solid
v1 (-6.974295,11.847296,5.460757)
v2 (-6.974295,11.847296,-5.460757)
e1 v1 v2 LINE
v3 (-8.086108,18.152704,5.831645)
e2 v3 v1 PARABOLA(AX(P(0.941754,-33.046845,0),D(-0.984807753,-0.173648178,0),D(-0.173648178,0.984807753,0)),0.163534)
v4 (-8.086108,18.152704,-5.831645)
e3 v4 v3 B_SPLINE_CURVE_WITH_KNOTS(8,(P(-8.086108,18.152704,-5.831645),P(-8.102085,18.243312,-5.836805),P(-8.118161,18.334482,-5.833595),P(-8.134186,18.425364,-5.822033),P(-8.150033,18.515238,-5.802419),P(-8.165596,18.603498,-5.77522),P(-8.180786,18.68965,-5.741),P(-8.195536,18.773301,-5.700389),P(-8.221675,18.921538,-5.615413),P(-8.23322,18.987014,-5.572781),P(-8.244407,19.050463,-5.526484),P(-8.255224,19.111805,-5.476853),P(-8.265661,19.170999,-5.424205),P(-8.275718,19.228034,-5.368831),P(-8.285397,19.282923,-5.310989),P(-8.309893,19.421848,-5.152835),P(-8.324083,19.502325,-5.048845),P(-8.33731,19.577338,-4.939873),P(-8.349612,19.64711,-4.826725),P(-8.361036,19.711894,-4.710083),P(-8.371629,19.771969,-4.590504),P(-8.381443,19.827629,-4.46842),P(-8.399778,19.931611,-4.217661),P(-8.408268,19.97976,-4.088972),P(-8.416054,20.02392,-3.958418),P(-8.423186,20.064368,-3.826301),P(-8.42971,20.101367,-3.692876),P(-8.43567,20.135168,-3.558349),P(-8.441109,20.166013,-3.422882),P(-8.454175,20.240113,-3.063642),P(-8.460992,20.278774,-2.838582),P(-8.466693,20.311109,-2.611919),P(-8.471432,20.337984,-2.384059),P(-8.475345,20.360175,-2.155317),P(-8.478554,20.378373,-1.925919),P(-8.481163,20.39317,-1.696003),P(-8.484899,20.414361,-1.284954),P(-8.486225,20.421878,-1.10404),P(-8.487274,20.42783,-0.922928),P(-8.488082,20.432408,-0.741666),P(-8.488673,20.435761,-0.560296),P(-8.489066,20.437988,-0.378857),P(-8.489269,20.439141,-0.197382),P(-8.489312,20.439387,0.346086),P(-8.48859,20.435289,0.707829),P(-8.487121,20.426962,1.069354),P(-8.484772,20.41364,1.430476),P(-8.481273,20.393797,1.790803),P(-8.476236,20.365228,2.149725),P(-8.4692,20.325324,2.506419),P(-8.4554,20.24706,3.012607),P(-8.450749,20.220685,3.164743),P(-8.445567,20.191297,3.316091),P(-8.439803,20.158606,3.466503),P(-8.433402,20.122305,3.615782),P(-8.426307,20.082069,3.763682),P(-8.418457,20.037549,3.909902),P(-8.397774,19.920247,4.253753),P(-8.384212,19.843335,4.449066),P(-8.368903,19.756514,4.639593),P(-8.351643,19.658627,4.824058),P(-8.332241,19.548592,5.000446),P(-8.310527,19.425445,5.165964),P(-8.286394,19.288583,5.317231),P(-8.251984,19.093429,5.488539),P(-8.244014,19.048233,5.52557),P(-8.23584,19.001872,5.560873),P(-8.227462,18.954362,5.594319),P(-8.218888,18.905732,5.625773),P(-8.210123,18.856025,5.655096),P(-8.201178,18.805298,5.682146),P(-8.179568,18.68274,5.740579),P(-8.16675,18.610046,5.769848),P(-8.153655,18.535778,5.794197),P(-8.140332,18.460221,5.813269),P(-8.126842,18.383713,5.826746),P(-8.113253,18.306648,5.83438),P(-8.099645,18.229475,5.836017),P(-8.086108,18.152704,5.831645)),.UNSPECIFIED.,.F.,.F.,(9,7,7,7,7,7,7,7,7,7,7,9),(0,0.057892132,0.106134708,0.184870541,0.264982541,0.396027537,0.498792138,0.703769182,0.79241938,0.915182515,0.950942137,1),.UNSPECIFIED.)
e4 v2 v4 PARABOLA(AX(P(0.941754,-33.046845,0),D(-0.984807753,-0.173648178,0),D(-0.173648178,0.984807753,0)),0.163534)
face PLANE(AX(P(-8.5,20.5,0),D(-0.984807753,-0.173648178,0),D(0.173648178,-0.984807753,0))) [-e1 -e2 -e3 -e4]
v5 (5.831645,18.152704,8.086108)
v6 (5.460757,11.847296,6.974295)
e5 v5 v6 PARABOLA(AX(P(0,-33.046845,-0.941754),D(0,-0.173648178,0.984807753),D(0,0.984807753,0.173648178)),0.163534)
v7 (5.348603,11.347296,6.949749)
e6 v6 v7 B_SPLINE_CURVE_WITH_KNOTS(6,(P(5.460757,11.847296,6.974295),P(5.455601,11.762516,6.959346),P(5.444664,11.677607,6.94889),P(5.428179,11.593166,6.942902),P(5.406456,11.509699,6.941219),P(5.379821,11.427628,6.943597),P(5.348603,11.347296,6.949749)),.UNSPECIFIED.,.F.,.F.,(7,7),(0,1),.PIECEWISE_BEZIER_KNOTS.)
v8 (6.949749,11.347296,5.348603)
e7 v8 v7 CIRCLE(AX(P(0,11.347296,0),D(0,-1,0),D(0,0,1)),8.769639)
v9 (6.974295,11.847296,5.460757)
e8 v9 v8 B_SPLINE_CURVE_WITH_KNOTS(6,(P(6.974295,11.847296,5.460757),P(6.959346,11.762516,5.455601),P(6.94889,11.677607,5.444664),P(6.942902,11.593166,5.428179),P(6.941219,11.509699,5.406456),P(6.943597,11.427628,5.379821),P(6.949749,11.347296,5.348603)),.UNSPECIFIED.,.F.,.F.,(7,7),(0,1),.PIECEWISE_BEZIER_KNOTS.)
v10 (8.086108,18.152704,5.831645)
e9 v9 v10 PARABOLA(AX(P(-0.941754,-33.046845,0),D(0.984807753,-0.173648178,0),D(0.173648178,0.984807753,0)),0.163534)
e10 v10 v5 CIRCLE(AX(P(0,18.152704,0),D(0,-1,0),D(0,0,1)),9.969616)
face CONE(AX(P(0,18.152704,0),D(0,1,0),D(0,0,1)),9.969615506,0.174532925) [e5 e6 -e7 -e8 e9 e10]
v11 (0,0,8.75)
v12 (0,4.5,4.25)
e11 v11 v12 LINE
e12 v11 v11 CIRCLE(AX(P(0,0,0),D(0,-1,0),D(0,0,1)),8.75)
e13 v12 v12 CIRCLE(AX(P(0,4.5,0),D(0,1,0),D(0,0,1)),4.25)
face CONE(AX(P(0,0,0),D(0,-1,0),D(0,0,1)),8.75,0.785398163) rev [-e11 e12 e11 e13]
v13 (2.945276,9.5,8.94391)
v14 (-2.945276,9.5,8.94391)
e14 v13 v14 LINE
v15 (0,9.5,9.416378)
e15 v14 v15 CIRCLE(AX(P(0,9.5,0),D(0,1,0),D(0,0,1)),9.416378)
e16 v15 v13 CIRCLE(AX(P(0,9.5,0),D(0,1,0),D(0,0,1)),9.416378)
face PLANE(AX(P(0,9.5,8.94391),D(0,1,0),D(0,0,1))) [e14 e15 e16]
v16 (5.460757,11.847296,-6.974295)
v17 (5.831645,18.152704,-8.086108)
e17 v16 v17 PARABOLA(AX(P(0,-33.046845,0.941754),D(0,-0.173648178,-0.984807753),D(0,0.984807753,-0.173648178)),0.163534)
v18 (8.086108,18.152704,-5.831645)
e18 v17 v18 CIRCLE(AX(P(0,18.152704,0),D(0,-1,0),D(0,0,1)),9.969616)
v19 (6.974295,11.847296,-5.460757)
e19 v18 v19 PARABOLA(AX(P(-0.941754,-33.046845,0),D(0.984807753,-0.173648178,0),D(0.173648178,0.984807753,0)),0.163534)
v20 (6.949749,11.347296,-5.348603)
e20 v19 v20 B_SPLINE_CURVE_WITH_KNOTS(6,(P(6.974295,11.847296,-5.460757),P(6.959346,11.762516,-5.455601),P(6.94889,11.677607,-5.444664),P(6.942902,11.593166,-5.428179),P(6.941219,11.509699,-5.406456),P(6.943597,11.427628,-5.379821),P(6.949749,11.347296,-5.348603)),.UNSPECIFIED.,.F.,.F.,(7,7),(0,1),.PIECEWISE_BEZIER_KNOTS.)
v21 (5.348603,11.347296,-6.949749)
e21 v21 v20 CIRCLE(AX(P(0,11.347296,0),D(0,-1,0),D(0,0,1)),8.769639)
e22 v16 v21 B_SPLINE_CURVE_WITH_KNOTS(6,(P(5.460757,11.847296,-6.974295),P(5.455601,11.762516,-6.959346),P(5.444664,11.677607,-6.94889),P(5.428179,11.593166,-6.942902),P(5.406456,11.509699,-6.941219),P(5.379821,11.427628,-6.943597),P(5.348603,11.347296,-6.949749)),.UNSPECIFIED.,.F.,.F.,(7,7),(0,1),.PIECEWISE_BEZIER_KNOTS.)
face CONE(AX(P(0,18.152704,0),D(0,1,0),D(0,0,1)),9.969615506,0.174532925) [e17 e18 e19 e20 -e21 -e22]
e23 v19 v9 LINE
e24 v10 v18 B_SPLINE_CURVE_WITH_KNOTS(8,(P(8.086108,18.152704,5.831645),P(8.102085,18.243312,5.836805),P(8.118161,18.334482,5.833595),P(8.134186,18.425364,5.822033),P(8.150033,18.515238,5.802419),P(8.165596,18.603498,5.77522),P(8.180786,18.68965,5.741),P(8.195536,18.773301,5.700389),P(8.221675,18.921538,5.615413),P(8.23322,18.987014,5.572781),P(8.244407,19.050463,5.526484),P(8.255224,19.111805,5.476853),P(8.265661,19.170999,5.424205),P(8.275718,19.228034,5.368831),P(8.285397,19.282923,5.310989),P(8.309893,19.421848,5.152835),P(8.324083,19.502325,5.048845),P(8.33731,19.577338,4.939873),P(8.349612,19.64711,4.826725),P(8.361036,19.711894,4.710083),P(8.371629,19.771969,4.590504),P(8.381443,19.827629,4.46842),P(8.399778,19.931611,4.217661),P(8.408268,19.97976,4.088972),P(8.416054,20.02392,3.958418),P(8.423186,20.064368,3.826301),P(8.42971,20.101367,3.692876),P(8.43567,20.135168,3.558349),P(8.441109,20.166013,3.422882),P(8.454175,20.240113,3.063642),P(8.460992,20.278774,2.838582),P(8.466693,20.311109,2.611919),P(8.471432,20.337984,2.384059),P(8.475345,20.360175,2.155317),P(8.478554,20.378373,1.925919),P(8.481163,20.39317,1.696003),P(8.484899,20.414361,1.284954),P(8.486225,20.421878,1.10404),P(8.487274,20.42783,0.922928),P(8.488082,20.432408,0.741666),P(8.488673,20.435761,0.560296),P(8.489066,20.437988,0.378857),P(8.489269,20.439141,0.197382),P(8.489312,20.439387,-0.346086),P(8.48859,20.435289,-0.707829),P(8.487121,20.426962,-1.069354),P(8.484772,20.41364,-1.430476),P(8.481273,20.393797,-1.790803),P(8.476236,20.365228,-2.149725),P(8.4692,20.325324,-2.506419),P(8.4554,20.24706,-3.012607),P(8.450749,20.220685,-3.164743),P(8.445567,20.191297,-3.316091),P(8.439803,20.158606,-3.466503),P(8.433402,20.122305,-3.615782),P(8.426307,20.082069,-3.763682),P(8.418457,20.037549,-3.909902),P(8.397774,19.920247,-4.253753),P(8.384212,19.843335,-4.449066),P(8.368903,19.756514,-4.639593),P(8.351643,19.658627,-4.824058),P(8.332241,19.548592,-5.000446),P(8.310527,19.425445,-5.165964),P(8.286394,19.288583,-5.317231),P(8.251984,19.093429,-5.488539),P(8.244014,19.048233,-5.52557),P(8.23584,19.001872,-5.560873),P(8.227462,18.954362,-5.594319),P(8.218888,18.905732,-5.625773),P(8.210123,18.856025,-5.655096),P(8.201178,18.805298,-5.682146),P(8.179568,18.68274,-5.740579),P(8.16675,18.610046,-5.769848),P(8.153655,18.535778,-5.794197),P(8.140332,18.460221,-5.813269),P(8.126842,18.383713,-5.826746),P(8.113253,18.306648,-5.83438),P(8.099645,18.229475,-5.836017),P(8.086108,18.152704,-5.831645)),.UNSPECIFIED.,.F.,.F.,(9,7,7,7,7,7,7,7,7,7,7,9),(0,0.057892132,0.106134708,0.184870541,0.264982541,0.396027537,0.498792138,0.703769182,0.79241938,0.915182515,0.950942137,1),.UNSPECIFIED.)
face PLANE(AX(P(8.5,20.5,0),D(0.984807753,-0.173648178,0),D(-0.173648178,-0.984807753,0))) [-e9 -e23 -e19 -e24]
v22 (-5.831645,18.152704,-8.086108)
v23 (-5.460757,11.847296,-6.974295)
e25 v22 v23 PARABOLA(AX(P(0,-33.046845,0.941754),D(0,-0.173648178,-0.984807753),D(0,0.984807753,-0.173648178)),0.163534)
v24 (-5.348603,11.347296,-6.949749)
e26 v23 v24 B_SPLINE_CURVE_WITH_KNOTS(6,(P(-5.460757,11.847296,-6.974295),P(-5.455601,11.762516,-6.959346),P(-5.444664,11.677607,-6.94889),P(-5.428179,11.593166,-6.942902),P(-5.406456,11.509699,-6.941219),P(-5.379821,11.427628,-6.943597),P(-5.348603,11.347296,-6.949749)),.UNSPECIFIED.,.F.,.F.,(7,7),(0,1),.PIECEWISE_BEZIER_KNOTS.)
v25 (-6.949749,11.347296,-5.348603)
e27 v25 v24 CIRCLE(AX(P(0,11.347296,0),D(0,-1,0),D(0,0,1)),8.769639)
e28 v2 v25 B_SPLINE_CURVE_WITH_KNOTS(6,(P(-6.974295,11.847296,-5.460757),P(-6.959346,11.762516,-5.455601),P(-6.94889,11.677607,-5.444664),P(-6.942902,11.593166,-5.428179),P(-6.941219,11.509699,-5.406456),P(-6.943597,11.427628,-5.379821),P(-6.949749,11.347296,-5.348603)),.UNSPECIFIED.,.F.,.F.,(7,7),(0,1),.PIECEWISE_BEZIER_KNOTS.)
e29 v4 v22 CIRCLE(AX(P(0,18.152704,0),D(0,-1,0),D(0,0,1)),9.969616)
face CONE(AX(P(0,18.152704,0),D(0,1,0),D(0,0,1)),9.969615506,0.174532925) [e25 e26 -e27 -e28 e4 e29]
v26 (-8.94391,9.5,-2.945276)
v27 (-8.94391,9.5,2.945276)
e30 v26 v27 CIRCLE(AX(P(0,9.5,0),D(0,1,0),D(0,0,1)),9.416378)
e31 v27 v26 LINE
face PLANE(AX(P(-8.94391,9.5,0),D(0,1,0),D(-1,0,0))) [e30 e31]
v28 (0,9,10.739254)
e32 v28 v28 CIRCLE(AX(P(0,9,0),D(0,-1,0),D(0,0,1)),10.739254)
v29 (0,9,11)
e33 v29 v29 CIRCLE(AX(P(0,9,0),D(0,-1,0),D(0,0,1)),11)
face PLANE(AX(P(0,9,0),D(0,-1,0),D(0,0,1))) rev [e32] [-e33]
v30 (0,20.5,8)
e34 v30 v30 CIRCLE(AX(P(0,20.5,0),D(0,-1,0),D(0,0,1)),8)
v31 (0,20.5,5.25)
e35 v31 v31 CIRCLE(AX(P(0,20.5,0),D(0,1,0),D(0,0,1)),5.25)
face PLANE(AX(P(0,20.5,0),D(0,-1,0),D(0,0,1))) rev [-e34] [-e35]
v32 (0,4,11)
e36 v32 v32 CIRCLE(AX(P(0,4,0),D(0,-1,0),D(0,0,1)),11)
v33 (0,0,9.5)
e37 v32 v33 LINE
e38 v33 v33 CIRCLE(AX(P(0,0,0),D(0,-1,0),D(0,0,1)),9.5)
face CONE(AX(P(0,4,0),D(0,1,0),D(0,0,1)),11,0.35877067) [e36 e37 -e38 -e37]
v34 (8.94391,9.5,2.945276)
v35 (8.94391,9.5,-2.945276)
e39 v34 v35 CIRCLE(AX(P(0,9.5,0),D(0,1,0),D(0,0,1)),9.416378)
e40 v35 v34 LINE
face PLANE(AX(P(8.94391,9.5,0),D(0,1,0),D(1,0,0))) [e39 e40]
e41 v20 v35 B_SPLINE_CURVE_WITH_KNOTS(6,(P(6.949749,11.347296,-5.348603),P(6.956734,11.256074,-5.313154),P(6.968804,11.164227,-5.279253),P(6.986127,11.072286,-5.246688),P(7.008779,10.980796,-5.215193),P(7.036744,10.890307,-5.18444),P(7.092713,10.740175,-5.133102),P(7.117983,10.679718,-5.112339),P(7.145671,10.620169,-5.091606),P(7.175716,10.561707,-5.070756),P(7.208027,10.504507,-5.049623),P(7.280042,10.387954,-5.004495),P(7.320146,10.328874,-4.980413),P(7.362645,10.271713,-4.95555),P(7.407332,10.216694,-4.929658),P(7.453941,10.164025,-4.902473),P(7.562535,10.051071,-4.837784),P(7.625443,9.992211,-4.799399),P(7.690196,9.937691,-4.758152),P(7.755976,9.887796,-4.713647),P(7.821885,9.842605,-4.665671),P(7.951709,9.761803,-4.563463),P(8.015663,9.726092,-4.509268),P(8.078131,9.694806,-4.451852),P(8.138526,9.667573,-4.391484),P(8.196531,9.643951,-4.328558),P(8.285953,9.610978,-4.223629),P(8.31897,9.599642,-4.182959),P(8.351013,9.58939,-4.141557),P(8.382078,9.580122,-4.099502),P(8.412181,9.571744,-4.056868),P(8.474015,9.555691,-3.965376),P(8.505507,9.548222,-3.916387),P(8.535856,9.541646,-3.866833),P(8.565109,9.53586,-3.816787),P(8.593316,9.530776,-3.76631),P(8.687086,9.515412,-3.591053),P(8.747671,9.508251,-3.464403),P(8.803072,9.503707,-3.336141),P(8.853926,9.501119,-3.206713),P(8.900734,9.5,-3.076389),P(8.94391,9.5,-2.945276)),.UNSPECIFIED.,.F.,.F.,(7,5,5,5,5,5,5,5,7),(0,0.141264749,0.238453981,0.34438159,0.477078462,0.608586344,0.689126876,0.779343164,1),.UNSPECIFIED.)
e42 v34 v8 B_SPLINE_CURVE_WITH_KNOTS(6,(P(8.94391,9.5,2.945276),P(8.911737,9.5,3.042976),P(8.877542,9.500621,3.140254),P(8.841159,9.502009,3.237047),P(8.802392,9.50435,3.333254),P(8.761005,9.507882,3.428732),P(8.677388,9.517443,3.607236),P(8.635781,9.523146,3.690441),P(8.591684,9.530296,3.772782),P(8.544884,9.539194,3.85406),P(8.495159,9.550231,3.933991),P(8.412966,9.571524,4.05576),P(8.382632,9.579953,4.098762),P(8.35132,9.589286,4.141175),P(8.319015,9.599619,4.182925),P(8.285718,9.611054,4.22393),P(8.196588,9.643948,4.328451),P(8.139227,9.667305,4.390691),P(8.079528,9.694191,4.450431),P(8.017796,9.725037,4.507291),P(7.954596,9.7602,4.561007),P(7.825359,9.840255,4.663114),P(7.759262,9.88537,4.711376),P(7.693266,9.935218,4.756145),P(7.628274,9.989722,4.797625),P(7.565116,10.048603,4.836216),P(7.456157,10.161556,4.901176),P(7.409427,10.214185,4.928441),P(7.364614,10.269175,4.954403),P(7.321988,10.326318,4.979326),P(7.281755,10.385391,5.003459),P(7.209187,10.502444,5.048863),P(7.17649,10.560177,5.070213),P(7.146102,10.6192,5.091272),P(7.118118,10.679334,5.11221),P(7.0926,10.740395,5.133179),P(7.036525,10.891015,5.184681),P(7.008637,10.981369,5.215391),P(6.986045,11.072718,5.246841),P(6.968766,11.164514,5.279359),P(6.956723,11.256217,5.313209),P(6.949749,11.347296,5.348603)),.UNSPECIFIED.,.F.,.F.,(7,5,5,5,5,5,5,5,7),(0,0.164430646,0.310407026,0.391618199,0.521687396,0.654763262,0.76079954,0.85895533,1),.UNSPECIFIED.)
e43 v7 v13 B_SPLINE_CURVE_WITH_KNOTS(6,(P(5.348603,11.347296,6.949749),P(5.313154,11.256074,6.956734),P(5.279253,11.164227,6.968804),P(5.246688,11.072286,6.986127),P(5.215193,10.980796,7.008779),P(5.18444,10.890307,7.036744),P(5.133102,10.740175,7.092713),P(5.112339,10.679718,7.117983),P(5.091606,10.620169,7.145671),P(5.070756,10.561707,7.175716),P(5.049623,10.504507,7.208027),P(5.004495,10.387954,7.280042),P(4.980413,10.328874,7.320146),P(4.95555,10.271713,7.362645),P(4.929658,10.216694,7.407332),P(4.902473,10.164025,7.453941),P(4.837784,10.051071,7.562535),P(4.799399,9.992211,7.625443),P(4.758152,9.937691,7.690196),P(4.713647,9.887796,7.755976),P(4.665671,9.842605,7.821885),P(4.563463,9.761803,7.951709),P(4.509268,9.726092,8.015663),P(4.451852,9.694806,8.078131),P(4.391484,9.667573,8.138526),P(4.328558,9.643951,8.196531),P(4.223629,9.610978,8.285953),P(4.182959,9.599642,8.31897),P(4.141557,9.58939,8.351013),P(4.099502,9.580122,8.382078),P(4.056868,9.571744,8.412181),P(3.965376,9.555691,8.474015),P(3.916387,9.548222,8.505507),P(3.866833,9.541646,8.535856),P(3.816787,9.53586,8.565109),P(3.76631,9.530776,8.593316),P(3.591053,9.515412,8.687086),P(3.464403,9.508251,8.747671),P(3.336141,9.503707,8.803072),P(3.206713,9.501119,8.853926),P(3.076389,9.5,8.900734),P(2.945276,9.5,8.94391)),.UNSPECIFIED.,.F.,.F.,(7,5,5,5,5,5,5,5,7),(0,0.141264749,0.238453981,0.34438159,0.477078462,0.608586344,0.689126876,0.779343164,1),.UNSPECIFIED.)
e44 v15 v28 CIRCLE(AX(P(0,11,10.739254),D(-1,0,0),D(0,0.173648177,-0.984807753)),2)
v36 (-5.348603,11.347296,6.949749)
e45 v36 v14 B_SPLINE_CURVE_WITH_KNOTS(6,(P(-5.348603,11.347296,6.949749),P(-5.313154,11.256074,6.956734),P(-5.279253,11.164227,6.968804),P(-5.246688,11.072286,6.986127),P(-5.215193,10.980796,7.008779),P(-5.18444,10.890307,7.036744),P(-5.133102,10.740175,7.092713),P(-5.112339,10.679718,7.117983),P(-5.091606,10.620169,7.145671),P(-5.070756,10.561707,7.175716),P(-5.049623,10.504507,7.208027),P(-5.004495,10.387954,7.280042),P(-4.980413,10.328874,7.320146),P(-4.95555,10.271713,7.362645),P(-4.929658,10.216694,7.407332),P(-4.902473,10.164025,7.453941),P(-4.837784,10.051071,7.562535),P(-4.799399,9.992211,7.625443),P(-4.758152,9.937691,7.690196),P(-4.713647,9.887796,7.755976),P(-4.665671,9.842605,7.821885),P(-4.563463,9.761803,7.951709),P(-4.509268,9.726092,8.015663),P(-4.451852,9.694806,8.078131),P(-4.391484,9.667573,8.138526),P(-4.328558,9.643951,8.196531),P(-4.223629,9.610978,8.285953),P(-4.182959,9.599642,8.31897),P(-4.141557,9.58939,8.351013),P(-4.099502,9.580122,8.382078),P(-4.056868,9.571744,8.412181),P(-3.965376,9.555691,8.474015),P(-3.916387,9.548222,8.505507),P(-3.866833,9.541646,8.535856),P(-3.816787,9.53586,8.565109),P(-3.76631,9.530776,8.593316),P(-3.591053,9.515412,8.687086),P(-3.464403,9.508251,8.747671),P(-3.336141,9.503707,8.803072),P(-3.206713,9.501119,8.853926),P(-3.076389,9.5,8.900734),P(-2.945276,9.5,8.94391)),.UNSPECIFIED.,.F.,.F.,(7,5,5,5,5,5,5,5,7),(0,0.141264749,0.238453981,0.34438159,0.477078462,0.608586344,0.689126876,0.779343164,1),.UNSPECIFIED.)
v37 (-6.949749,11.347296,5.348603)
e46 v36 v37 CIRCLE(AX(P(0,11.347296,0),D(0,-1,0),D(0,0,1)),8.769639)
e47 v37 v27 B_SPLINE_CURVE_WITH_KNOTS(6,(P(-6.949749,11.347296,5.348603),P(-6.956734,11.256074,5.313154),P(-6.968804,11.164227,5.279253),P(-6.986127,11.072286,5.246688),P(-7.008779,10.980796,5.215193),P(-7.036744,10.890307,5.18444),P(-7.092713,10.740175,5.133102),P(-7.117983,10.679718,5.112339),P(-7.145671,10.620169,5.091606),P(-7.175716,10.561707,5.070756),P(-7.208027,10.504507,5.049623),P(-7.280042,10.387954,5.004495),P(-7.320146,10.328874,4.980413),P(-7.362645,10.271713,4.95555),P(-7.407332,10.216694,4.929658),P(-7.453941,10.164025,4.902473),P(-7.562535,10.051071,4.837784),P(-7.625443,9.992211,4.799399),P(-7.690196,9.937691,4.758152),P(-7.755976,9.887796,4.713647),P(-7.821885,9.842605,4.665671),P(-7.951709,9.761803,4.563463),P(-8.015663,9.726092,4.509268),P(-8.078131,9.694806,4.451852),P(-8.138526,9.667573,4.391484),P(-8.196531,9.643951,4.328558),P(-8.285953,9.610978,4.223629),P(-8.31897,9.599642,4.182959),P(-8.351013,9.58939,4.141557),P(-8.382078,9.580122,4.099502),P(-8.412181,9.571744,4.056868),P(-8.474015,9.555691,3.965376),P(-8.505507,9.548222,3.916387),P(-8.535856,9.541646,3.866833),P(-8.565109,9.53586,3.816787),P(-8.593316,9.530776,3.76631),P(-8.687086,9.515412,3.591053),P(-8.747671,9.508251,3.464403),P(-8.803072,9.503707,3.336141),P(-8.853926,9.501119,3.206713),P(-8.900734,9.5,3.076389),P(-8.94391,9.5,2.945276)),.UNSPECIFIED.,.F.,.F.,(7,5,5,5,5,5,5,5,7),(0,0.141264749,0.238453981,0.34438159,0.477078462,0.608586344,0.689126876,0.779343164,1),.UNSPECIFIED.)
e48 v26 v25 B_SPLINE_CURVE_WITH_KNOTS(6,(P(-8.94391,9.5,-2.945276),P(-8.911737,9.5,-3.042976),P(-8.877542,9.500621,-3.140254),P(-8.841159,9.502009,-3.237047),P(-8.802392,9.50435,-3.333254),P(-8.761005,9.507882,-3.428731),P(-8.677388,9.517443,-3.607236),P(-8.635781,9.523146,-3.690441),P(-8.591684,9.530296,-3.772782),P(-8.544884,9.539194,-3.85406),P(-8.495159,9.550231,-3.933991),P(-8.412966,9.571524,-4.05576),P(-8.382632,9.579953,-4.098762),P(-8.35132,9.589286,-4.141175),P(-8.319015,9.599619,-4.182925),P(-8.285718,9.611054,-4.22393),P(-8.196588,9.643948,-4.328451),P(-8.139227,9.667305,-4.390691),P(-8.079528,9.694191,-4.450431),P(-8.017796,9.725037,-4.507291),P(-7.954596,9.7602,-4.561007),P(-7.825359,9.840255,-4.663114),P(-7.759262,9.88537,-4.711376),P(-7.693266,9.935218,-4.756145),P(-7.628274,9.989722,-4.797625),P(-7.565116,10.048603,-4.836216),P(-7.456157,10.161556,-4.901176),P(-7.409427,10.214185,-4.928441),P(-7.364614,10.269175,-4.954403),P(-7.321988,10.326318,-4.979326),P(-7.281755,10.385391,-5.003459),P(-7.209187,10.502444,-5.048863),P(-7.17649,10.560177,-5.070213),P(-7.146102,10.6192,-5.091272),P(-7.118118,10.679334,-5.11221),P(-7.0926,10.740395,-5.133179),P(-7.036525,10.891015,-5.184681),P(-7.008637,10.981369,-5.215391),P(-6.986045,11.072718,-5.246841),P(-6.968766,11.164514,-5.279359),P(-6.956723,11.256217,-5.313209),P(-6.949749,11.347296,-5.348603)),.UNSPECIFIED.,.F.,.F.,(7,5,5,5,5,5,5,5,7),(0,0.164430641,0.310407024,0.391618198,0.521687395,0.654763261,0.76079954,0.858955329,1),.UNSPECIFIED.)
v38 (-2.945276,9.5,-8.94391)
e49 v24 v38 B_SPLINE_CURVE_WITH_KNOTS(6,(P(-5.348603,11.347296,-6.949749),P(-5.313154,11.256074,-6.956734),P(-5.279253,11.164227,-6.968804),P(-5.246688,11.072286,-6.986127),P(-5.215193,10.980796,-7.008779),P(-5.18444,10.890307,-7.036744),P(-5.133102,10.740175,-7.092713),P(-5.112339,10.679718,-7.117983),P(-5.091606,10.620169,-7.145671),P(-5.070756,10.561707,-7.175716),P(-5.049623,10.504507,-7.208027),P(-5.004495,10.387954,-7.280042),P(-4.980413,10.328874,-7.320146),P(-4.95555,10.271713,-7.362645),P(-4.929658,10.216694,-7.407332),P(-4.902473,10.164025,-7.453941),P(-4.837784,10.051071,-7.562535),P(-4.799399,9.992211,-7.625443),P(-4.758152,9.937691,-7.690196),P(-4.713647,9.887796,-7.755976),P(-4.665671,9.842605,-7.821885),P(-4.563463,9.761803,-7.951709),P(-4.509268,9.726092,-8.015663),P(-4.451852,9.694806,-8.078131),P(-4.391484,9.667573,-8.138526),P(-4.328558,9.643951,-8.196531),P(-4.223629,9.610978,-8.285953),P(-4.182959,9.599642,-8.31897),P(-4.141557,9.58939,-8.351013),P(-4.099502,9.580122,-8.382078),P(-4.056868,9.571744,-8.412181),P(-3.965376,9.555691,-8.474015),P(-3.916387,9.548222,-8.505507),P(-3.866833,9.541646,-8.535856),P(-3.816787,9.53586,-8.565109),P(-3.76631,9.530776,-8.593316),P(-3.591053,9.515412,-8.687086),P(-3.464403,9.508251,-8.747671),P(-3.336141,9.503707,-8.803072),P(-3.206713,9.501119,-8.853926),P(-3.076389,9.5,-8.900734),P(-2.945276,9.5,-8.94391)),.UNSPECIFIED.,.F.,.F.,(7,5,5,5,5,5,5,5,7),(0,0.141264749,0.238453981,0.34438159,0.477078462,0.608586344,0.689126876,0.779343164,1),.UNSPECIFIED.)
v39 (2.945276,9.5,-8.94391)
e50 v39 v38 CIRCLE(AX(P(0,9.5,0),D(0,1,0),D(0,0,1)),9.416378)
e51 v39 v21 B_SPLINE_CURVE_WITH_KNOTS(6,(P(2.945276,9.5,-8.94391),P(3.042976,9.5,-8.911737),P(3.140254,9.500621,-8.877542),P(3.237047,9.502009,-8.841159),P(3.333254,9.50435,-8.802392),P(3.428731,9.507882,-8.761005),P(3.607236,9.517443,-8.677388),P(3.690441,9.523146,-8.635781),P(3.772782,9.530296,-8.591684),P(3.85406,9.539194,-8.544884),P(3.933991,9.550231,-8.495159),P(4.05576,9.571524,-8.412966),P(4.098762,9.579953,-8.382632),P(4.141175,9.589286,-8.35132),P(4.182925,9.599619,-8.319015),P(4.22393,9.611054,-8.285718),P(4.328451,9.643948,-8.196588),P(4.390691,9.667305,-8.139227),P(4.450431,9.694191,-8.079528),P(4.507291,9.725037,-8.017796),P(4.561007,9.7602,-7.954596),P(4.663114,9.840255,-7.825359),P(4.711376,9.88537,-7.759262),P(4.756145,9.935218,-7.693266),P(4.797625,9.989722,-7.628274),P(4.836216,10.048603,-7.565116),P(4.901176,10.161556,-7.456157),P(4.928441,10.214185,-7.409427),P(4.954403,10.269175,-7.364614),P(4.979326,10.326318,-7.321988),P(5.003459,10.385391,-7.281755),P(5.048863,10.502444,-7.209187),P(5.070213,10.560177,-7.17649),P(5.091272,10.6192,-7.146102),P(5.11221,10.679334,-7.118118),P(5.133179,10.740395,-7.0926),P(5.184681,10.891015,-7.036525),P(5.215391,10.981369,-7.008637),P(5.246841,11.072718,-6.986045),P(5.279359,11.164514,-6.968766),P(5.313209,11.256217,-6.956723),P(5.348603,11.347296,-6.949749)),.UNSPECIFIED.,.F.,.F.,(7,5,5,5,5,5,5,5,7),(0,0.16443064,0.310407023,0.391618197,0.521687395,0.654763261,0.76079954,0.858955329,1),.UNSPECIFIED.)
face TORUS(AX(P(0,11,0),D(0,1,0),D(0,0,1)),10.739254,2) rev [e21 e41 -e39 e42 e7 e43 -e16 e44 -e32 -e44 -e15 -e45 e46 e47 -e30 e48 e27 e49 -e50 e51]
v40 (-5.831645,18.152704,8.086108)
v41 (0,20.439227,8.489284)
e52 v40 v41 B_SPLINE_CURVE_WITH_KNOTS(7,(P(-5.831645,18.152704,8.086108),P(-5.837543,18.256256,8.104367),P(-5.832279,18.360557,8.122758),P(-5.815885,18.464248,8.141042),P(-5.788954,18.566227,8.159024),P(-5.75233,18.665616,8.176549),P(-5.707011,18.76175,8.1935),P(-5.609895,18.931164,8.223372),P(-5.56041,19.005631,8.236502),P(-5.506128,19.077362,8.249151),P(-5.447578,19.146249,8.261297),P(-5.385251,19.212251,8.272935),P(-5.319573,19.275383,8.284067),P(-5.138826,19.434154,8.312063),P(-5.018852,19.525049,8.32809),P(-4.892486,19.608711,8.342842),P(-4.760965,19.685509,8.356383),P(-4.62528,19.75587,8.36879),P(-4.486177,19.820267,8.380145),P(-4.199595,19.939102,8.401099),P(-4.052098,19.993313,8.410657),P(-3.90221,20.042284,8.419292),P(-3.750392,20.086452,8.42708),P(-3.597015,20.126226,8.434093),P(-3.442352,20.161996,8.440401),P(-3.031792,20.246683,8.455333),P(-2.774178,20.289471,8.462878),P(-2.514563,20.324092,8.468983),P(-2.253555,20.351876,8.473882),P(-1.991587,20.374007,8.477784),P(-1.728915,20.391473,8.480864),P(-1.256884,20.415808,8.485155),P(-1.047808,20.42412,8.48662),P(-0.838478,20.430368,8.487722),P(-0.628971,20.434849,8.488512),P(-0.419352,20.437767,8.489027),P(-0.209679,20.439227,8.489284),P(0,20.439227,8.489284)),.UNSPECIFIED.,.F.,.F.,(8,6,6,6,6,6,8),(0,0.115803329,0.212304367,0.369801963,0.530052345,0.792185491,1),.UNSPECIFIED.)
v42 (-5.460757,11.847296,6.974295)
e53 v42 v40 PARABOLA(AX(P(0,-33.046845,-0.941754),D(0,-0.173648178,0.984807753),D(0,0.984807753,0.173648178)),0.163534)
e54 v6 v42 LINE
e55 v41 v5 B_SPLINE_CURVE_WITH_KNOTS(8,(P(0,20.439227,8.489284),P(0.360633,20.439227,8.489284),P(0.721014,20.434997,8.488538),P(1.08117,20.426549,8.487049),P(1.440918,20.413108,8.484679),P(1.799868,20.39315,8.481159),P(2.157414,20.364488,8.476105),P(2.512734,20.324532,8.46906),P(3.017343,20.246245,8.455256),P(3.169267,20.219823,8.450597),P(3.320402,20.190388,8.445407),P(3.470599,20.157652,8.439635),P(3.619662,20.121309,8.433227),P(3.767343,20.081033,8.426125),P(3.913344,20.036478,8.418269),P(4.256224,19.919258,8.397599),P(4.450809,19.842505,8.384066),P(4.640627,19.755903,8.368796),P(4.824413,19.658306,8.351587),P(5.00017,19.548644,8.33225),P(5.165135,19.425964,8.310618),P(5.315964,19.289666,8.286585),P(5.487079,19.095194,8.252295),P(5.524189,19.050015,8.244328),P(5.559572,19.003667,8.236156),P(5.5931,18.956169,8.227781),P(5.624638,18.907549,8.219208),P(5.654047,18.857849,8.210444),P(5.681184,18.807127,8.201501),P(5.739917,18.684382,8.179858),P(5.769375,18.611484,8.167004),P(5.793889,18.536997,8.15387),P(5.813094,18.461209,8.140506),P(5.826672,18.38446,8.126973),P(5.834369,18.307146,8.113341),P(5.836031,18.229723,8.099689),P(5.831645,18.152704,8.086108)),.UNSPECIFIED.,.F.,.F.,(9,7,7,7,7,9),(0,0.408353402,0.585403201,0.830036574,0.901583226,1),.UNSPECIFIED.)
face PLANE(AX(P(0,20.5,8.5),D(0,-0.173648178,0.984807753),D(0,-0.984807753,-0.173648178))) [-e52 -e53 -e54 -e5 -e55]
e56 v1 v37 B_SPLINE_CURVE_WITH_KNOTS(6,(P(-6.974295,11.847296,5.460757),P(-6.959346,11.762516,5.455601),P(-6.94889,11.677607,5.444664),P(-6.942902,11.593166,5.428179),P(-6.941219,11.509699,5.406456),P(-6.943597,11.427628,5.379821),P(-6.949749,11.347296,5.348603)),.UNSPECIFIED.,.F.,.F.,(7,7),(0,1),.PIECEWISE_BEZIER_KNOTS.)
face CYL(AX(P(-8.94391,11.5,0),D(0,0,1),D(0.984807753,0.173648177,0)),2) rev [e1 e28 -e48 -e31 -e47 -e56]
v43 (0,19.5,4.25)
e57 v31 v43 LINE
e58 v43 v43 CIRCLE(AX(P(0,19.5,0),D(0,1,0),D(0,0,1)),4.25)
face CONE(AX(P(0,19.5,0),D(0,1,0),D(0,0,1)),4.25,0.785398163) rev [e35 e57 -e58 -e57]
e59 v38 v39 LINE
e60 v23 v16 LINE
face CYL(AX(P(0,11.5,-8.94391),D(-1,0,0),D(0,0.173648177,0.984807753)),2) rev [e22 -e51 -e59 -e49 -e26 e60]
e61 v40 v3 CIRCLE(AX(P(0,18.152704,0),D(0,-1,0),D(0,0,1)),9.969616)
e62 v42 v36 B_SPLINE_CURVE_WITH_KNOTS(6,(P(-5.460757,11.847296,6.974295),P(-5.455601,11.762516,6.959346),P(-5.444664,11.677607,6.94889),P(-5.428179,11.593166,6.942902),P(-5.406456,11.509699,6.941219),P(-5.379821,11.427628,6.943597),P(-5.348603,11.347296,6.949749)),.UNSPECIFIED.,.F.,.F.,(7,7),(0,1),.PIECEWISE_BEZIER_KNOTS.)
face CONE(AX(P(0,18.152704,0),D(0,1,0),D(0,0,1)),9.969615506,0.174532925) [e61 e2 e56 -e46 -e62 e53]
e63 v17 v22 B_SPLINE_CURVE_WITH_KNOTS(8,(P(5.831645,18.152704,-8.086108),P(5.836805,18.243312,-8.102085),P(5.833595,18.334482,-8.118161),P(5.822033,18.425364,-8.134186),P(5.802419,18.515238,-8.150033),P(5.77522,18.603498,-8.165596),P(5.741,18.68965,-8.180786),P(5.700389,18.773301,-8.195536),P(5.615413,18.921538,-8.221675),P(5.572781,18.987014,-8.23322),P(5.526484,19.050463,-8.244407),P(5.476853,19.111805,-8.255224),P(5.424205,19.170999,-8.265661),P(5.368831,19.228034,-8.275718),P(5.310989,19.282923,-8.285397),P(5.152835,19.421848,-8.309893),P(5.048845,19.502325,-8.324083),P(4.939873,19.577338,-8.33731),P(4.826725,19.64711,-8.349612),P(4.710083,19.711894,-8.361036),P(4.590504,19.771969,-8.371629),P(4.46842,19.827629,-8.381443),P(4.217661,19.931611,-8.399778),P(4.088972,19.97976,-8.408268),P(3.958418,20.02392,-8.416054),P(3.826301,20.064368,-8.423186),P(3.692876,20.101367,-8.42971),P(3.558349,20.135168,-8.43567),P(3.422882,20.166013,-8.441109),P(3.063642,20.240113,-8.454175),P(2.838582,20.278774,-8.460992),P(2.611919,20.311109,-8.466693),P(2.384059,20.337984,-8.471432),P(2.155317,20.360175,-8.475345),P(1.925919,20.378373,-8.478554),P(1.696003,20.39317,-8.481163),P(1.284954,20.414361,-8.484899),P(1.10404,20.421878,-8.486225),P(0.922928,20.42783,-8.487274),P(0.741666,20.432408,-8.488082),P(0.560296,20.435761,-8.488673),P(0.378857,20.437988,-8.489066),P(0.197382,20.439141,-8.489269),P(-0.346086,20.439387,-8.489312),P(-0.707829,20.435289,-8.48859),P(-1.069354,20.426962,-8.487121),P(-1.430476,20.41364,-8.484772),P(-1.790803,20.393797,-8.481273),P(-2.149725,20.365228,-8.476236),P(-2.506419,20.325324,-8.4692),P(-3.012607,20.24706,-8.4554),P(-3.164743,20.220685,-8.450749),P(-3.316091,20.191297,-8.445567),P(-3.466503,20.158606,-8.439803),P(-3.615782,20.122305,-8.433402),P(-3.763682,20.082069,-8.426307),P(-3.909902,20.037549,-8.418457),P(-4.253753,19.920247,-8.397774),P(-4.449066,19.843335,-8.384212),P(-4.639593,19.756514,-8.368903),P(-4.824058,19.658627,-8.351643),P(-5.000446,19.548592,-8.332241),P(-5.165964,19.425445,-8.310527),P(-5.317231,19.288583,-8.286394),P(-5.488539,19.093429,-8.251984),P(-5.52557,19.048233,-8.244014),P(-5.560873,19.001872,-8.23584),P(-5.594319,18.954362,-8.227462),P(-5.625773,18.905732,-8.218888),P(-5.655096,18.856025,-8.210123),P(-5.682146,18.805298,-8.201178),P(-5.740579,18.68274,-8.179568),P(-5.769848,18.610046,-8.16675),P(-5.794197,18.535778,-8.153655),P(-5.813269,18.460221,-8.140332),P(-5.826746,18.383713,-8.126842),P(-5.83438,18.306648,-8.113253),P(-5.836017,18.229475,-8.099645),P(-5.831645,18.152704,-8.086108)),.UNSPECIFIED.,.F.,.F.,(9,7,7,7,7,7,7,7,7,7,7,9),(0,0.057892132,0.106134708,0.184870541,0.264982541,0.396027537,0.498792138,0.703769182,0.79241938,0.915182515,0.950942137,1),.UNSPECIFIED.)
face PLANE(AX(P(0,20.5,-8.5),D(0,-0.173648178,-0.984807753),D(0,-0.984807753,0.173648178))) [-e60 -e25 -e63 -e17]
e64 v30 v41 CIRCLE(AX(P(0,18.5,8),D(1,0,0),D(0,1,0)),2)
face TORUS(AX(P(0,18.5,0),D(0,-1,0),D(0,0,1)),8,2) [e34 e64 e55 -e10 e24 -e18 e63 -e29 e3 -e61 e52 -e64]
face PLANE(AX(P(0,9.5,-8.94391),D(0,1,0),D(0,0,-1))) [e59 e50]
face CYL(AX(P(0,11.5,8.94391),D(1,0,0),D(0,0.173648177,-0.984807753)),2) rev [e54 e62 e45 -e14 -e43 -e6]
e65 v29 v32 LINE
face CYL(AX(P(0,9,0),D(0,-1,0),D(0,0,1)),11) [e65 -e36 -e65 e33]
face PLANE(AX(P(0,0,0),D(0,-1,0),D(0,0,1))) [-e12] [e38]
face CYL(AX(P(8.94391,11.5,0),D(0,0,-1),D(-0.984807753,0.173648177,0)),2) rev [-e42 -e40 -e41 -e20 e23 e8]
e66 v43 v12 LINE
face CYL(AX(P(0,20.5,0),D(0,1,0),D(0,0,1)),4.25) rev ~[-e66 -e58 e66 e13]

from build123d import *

# Parameters (mm, degrees)
SKETCH2_R          = 4.25
CUT_EXTRUDE1_DEPTH = 26.734218465
CHAMFER1_SIZE      = 1
CUT_EXTRUDE2_DEPTH = 26.734218465
CIRPATTERN1_COUNT  = 4


with BuildPart() as part:
    # Sketch1 → Revolve1 (revolve)
    with BuildSketch(Plane.XY, mode=Mode.PRIVATE) as revolve1_sk:
        with BuildLine():
            Line((0, 20.5), (-8, 20.5))
            ThreePointArc((-8, 20.5), (-9.532088886, 19.785575219), (-9.969615506, 18.152703645))
            Line((-9.969615506, 18.152703645), (-8.769638586, 11.347296355))
            ThreePointArc((-8.769638586, 11.347296355), (-9.207165206, 9.714424781), (-10.739254092, 9))
            Line((-10.739254092, 9), (-11, 9))
            Line((-11, 9), (-11, 4))
            Line((-11, 4), (-9.5, 0))
            Line((-9.5, 0), (-8.75, 0))
            Line((-8.75, 0), (0, 8.75))
            Line((0, 8.75), (0, 20.5))
        make_face()
    revolve(revolve1_sk.sketch.rotate(Axis((0, 20.5, 0), (0, -1, 0)), 270), axis=Axis((0, 20.5, 0), (0, -1, 0)))

    # Sketch2 → Cut-Extrude1 (cut, through all)
    with BuildSketch(Plane(origin=(0, 20.5, 0), x_dir=(1, 0, 0), z_dir=(0, 1, 0))):
        with Locations(Location((0, 0, 0), (0, 0, 270))):
            Circle(SKETCH2_R)
    extrude(amount=-CUT_EXTRUDE1_DEPTH, mode=Mode.SUBTRACT)

    # Chamfer1
    chamfer1_edges = [part.edges().sort_by_distance(p)[0] for p in [
        (0, 20.5, -4.25),
    ]]
    chamfer(chamfer1_edges, length=CHAMFER1_SIZE)

    # Sketch3 → Cut-Extrude2 (cut, symmetric)
    with BuildSketch(Plane(origin=(0, 0, 0), x_dir=(0, 0, -1), z_dir=(1, 0, 0))):
        with BuildLine():
            Line((-8.5, 20.5), (-6.974294891, 11.847296355))
            ThreePointArc((-6.974294891, 11.847296355), (-7.411821511, 10.214424781), (-8.943910397, 9.5))
            Line((-8.943910397, 9.5), (-13.5, 9.5))
            Line((-13.5, 9.5), (-13.5, 20.5))
            Line((-13.5, 20.5), (-8.5, 20.5))
        make_face()
    cut_extrude2 = extrude(amount=CUT_EXTRUDE2_DEPTH, both=True, mode=Mode.SUBTRACT)

    # CirPattern1: Cut-Extrude2 ×4 about axis
    cirpattern1_axis = Axis((0, 0, 0), (0, 1, 0))
    for i in range(1, CIRPATTERN1_COUNT):
        add(cut_extrude2.rotate(cirpattern1_axis, i * 360 / CIRPATTERN1_COUNT), mode=Mode.SUBTRACT)


solid = part.part
